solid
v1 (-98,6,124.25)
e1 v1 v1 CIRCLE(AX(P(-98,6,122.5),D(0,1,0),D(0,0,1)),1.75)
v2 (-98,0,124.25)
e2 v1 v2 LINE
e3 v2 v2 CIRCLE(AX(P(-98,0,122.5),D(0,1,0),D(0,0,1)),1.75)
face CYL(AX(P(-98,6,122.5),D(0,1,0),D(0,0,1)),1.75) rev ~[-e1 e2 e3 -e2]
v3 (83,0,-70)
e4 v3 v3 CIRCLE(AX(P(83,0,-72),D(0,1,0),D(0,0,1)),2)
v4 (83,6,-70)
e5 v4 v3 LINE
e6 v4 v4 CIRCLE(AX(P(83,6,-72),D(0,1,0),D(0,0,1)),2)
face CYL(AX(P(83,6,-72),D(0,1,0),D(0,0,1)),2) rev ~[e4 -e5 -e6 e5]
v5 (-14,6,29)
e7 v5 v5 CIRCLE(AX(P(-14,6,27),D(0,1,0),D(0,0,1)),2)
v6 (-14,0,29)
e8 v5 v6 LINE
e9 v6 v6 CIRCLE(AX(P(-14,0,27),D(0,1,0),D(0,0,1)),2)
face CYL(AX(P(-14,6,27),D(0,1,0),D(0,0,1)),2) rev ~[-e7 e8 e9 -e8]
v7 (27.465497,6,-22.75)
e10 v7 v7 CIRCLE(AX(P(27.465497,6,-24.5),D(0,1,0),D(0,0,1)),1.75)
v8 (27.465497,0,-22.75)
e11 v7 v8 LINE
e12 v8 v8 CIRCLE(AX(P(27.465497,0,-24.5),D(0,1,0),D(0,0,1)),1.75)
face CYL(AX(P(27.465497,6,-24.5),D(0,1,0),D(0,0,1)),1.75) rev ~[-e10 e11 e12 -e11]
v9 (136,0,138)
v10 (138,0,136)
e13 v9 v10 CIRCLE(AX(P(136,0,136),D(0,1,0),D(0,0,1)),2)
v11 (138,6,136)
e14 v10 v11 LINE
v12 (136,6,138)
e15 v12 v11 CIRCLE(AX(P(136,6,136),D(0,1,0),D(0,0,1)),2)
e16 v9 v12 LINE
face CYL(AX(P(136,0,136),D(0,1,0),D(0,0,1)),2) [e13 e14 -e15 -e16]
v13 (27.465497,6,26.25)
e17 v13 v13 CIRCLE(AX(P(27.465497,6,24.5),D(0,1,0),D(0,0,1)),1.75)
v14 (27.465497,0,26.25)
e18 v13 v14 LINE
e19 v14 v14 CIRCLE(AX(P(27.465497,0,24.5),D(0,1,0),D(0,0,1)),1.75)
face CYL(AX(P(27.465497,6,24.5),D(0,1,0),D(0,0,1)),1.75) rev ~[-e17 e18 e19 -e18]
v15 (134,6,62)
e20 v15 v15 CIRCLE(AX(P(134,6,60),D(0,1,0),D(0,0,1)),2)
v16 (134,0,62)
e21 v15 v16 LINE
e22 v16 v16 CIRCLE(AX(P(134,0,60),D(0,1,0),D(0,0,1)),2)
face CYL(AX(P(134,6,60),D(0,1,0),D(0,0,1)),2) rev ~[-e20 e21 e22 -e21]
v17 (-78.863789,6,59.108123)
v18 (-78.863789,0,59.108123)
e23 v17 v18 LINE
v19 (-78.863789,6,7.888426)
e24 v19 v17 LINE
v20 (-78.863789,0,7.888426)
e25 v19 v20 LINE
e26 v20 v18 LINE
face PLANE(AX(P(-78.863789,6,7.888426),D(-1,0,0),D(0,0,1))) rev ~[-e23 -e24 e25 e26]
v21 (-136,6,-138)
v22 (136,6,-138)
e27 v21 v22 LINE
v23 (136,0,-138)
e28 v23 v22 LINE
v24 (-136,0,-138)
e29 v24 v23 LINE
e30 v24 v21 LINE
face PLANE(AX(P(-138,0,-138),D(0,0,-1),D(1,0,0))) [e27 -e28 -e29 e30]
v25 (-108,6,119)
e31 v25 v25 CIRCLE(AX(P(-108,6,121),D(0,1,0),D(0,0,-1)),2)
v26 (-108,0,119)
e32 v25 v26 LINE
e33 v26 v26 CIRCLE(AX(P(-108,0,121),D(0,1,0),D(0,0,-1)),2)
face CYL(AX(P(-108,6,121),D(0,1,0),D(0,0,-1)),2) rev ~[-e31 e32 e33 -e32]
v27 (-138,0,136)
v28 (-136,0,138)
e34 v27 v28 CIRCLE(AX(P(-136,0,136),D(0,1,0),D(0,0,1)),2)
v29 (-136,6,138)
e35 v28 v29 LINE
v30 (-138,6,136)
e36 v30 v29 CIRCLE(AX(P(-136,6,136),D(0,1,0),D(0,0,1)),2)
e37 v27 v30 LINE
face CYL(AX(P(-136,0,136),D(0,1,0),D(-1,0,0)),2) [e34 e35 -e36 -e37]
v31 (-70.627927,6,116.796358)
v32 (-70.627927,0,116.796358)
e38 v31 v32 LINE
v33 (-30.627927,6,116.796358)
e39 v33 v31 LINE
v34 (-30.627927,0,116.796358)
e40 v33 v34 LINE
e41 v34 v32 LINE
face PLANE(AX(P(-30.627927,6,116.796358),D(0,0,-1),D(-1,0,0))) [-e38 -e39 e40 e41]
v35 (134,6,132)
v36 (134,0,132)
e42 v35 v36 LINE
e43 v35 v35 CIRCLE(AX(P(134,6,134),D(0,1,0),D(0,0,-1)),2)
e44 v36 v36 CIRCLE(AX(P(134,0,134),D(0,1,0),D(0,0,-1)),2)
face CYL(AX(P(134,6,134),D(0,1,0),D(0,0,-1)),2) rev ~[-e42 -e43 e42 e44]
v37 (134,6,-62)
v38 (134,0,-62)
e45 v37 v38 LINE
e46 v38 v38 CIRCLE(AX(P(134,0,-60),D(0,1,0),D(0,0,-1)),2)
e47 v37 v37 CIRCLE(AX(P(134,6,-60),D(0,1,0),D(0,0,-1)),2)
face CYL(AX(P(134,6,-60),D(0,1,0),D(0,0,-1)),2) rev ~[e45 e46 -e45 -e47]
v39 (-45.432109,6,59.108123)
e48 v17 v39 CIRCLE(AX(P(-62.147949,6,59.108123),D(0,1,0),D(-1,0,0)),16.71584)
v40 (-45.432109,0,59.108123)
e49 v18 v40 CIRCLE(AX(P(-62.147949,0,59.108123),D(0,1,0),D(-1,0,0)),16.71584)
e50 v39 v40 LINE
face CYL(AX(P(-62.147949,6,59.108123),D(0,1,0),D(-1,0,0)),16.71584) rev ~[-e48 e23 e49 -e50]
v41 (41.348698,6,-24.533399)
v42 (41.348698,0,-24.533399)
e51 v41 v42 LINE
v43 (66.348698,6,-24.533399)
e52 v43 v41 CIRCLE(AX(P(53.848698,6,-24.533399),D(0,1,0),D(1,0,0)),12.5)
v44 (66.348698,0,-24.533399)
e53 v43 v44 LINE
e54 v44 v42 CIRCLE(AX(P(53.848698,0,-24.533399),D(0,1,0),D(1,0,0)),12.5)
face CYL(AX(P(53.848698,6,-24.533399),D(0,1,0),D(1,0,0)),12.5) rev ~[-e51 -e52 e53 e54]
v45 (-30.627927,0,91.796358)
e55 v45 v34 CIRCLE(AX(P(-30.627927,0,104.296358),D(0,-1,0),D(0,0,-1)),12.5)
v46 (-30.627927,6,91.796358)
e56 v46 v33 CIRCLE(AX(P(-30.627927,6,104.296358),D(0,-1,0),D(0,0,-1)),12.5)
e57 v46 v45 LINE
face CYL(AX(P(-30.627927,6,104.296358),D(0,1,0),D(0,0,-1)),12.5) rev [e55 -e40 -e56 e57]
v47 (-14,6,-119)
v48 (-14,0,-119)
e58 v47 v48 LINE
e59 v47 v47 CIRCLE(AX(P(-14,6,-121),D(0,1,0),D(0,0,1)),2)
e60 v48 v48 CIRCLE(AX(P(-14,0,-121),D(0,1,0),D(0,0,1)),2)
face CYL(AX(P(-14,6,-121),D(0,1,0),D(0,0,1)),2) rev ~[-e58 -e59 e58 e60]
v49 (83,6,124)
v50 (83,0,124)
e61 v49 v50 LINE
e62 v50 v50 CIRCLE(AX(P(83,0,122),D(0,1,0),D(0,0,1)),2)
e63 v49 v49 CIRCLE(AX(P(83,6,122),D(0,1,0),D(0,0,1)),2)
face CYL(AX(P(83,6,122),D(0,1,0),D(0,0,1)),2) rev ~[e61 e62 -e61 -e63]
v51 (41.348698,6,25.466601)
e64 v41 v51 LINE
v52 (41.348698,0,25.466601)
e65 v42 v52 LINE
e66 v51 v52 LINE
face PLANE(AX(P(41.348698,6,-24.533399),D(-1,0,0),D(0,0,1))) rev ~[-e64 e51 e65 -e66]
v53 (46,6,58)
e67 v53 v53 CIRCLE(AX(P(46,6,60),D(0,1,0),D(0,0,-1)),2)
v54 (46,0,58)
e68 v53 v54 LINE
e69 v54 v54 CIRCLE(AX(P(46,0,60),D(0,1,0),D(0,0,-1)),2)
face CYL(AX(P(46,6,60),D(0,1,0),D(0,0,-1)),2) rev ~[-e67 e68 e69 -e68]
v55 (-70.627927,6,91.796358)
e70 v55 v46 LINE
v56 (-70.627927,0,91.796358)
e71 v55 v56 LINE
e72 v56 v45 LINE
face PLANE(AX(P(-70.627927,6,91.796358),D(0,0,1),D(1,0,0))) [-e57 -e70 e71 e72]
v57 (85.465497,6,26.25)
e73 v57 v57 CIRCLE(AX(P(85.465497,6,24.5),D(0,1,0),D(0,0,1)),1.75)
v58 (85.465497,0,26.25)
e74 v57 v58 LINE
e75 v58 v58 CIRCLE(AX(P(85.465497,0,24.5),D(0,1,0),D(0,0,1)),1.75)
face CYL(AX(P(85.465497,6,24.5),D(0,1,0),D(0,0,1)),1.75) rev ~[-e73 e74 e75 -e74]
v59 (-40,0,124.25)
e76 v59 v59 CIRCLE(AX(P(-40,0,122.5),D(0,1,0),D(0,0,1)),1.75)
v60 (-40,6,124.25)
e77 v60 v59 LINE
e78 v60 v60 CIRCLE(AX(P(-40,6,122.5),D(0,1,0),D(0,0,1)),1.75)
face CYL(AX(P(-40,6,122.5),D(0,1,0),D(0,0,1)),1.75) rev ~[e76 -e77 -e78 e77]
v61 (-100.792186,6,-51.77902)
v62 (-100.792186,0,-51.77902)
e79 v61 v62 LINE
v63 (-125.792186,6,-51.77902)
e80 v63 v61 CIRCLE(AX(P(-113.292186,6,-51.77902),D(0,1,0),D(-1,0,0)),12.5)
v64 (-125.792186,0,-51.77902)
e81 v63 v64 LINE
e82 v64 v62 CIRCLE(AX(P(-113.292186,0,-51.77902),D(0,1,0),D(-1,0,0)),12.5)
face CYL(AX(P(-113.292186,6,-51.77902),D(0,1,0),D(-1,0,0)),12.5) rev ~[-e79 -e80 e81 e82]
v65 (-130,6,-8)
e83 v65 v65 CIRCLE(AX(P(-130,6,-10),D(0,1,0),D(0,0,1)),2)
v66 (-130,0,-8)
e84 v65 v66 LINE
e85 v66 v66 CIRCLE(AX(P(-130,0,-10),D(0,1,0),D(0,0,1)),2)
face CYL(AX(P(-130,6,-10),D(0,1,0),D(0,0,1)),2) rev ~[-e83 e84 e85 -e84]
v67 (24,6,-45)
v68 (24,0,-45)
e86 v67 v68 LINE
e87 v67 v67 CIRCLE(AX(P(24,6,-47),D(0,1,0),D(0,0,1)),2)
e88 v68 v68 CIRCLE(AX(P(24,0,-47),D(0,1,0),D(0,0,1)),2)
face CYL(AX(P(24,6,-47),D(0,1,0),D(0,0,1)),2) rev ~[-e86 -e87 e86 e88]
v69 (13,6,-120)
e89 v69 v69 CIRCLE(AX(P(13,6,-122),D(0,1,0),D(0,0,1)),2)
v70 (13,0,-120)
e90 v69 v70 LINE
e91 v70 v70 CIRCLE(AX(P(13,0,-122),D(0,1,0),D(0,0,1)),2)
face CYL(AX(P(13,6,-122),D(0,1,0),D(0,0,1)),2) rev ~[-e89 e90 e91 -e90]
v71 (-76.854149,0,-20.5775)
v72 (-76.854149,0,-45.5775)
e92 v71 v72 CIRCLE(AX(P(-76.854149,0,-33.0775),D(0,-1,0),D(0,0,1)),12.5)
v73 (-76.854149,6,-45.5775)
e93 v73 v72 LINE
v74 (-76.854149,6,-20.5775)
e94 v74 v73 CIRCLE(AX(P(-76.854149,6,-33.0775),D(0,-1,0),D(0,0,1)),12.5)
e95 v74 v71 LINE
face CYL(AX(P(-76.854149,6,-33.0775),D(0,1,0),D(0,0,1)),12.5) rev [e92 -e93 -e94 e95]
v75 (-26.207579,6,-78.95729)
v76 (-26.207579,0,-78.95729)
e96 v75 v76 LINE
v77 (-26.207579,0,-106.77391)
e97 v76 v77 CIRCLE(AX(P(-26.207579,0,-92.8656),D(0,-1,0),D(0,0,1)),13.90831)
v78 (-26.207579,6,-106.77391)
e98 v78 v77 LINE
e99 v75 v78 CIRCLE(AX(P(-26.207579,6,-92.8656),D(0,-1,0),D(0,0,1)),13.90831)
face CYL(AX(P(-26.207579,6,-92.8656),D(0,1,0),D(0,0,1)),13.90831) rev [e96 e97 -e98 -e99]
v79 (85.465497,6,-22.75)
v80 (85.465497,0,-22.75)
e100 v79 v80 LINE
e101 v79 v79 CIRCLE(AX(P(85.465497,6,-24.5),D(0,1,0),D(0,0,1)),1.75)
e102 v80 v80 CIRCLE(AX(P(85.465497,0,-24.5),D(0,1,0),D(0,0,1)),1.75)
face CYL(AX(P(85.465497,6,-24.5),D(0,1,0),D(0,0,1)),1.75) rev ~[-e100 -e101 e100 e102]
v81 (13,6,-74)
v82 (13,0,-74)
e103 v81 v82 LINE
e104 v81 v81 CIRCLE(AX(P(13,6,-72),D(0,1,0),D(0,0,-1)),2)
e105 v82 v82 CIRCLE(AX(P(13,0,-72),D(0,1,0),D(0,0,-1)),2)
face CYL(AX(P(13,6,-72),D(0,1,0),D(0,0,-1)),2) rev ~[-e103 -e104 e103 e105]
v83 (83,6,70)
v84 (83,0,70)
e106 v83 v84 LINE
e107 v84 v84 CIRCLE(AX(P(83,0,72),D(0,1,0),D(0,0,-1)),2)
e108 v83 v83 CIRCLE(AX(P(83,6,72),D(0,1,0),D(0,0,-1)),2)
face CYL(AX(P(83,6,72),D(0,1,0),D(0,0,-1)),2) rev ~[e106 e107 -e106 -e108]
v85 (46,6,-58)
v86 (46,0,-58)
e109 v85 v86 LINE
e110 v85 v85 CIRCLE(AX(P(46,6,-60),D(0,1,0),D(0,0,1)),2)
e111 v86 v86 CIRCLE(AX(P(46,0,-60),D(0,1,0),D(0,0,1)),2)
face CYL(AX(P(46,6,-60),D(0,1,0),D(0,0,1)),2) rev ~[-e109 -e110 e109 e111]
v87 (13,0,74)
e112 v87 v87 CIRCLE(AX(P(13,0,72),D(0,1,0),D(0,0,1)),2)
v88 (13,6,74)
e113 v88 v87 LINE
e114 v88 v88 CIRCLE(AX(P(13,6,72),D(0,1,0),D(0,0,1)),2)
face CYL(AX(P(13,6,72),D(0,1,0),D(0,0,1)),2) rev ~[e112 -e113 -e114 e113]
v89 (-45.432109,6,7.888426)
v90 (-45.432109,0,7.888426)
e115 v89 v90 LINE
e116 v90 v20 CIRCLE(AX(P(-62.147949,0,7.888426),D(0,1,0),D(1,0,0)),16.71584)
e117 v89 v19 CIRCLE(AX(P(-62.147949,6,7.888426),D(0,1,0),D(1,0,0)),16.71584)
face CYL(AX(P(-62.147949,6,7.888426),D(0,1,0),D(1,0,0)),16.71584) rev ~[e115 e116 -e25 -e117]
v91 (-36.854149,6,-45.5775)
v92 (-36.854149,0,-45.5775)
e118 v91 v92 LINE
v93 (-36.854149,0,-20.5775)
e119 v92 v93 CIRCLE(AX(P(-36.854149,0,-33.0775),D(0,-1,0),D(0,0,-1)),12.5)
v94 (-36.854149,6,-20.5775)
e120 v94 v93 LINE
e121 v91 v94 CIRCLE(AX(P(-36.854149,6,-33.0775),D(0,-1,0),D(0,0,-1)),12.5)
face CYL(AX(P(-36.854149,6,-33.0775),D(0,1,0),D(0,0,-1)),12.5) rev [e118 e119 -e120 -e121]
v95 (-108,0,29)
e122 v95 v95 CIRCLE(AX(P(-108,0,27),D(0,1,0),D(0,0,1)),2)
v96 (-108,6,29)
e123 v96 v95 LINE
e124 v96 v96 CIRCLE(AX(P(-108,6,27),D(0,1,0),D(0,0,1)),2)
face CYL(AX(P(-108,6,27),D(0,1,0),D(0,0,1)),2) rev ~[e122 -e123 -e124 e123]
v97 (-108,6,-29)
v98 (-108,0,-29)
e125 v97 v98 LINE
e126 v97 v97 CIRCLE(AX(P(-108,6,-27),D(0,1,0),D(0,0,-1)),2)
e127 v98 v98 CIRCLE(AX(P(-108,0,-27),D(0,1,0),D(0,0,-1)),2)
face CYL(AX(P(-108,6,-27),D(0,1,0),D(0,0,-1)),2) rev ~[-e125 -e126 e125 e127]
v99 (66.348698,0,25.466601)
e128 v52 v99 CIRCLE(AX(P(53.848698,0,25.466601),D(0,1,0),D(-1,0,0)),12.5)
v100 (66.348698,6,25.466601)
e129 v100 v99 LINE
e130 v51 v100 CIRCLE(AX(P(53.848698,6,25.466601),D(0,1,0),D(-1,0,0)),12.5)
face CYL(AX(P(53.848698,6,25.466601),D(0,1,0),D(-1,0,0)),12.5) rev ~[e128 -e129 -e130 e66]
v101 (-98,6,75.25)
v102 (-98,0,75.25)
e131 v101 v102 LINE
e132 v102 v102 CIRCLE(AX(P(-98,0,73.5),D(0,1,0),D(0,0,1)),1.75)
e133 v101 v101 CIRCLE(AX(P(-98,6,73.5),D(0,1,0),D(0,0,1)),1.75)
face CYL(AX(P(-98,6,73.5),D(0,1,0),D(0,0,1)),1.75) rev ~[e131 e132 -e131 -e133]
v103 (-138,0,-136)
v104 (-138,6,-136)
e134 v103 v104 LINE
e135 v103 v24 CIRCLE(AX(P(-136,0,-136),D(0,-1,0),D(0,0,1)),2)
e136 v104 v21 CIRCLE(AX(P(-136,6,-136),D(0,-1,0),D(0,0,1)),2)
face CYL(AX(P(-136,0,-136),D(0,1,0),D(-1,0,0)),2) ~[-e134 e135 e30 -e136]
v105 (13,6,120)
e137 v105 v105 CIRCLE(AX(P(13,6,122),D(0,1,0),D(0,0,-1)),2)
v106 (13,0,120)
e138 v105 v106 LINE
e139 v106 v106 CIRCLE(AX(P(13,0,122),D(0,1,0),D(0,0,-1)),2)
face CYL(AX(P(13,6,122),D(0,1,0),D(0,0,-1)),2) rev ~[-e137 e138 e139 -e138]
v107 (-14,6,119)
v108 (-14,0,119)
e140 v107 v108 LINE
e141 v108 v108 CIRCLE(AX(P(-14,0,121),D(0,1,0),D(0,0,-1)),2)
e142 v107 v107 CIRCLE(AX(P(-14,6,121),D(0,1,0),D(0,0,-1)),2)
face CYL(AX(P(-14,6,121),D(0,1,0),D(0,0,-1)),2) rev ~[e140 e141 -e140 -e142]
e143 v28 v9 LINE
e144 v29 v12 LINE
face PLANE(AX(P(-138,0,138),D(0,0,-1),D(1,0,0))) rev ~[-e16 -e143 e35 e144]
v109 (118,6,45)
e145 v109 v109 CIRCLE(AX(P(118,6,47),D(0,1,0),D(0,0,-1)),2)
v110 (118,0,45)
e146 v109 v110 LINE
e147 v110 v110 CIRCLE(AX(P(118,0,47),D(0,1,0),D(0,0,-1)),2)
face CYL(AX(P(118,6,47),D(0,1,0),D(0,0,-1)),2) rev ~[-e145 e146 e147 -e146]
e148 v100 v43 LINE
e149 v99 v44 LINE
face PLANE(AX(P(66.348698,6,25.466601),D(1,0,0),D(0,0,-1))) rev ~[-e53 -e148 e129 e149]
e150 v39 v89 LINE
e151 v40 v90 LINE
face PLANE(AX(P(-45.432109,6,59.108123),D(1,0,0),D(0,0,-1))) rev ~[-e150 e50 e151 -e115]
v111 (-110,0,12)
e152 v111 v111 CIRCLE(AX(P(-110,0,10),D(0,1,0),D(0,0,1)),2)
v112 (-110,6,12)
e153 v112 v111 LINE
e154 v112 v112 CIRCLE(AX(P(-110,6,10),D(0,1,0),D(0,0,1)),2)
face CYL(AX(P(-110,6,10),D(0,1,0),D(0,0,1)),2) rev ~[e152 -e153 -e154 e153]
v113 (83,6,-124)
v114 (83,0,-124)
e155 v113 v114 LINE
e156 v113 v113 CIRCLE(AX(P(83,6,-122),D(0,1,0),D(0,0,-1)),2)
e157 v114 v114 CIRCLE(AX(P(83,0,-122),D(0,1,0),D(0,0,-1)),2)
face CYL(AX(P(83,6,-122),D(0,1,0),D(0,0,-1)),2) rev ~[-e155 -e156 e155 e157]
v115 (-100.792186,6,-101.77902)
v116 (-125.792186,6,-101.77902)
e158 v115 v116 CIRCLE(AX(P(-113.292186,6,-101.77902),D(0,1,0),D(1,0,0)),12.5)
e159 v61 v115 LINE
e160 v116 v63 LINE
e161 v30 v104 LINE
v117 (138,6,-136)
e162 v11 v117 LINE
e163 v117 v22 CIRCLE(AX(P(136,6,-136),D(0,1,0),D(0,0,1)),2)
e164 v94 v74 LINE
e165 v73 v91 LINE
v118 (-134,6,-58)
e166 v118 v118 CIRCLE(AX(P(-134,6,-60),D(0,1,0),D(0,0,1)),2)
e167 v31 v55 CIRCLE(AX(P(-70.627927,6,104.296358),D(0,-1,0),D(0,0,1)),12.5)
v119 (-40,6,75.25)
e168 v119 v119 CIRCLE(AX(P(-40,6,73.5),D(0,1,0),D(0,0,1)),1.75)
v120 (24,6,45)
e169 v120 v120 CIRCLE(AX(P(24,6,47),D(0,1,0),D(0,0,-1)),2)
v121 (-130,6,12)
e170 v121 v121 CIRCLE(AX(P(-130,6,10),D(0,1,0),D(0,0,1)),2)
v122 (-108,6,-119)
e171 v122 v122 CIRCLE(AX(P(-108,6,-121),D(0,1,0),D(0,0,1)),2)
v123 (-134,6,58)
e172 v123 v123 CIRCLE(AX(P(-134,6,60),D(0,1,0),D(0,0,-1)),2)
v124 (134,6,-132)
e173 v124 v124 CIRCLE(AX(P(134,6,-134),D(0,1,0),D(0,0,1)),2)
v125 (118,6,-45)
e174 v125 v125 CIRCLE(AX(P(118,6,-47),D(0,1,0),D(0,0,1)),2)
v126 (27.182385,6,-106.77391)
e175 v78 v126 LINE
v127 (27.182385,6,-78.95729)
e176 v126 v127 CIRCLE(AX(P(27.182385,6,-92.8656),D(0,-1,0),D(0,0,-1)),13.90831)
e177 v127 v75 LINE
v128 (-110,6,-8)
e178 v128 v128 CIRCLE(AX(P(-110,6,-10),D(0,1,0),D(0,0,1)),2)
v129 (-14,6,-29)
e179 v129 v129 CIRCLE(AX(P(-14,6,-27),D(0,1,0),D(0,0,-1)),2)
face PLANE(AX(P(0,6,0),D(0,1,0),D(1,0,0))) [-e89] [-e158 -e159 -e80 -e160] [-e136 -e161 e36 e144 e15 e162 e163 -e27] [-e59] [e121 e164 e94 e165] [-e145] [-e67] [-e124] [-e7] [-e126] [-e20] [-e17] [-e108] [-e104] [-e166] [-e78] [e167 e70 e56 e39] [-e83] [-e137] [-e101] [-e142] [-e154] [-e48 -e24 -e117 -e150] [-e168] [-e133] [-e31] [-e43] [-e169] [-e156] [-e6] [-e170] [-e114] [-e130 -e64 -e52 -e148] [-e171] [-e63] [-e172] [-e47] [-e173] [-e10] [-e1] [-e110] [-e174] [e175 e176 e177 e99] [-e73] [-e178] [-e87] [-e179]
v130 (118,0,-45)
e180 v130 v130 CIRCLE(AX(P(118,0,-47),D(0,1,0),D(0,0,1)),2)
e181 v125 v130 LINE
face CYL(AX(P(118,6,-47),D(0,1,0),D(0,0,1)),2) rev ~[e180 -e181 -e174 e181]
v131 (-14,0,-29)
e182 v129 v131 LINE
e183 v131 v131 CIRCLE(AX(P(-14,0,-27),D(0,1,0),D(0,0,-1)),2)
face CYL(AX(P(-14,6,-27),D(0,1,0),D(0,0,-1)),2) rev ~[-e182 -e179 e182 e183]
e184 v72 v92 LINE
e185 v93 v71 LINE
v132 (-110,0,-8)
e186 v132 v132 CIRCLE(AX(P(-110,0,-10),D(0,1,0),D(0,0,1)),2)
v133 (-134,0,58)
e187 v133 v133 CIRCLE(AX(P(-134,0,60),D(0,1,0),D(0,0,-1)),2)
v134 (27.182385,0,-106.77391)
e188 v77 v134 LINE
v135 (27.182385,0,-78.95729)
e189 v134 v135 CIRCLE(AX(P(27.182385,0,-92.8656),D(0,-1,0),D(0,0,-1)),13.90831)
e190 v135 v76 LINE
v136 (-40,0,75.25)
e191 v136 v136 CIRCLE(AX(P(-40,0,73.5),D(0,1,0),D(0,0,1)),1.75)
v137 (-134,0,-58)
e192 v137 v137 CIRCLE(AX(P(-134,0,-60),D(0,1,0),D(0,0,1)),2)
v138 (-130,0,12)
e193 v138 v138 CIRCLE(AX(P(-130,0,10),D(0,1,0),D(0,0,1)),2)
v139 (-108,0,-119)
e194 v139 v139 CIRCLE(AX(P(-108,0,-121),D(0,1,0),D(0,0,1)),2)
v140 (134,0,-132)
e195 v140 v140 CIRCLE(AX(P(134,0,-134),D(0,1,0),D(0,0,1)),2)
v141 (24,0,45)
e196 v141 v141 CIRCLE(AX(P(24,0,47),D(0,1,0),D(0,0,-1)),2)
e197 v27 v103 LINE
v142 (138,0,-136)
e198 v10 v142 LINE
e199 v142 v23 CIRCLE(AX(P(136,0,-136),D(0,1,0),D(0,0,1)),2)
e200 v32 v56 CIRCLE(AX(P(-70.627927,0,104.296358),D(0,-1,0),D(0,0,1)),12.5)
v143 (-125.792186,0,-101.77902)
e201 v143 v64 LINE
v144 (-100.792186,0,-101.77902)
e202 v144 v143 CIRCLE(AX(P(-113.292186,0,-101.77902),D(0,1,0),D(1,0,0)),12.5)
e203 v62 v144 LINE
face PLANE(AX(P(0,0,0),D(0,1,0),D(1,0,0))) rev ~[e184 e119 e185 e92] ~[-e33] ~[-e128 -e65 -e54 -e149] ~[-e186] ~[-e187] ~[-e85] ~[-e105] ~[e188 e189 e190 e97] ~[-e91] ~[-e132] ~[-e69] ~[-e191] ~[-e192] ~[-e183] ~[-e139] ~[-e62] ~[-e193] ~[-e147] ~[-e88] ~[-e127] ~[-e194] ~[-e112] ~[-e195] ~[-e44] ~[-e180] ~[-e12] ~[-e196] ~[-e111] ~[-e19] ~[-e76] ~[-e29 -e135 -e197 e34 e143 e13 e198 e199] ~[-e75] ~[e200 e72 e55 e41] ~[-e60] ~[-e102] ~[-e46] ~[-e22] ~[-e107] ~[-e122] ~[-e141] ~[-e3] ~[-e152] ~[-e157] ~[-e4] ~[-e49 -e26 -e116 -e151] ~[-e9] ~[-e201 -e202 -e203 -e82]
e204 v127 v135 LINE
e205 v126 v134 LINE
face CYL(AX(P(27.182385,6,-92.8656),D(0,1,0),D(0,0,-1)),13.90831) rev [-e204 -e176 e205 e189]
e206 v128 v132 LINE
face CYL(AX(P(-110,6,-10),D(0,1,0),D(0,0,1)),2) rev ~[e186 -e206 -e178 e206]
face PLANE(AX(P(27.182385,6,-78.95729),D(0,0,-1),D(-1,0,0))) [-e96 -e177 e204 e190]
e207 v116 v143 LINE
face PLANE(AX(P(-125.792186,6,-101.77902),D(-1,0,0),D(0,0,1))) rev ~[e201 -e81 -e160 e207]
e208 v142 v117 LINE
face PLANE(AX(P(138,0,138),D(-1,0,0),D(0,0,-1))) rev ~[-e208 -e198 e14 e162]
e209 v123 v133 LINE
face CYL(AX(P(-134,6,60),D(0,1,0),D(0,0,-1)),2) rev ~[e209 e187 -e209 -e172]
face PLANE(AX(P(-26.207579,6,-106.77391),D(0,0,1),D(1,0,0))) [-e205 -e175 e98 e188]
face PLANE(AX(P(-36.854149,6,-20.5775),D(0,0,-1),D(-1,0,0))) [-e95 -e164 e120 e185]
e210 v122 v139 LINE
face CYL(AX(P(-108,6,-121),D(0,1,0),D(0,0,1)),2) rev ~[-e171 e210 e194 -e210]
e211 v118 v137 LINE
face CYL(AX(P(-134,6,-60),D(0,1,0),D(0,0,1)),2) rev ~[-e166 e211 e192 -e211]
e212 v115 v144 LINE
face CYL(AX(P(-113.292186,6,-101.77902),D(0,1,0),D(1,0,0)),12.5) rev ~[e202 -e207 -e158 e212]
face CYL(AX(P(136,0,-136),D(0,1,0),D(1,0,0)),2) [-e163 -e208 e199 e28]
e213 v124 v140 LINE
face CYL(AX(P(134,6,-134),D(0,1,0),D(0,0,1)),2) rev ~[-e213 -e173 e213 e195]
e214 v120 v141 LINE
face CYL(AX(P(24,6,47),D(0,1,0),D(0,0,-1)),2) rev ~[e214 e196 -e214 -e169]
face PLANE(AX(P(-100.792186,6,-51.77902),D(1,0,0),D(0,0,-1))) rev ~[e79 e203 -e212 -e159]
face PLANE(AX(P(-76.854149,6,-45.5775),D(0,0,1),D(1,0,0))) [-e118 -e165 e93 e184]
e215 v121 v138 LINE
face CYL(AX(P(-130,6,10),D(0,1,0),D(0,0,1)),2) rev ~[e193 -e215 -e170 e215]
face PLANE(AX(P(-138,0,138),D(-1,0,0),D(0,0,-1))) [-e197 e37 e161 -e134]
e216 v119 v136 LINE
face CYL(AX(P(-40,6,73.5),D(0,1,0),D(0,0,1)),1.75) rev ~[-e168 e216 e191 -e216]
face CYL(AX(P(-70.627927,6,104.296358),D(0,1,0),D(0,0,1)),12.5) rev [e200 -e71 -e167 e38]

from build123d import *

# Parameters (mm, degrees)
SKETCH_1_W              = 276
SKETCH_1_H              = 276
EXTRUDE_1_DEPTH         = 6
FILLET_1_R              = 2
SKETCH_2_R              = 2
CUT_EXTRUDE_1_DEPTH     = 6
SKETCH_10_R             = 2
CUT_EXTRUDE_1980_DEPTH  = 7
SKETCH_4_R              = 2
CUT_EXTRUDE_94_94_DEPTH = 6
SKETCH_8_R              = 1.75
RPI4_DEPTH              = 6
CUT_EXTRUDE_5_DEPTH     = 6


with BuildPart() as part:
    # Эскиз1 → Бобышка-Вытянуть1 (new body)
    with BuildSketch(Plane(origin=(0, 0, 0), x_dir=(1, 0, 0), z_dir=(0, 1, 0))):
        Rectangle(SKETCH_1_W, SKETCH_1_H)
    extrude(amount=EXTRUDE_1_DEPTH)

    # Скругление1
    fillet_1_edges = [part.edges().sort_by_distance(p)[0] for p in [
        (138, 3, 138),
        (-138, 3, 138),
        (-138, 3, -138),
        (138, 3, -138),
    ]]
    fillet(fillet_1_edges, radius=FILLET_1_R)

    # Эскиз2 → Вырез-Вытянуть1 (cut)
    with BuildSketch(Plane(origin=(0, 6, 0), x_dir=(1, 0, 0), z_dir=(0, 1, 0))):
        with Locations((-134, 60)):
            Circle(SKETCH_2_R)
        with Locations((134, 60)):
            Circle(SKETCH_2_R)
        with Locations((134, -60)):
            Circle(SKETCH_2_R)
        with Locations((-134, -60)):
            Circle(SKETCH_2_R)
        with Locations((46, 60)):
            Circle(SKETCH_2_R)
        with Locations((46, -60)):
            Circle(SKETCH_2_R)
        with Locations((134, 134)):
            Circle(SKETCH_2_R)
        with Locations((134, -134)):
            Circle(SKETCH_2_R)
    extrude(amount=-CUT_EXTRUDE_1_DEPTH, mode=Mode.SUBTRACT)

    # Эскиз10 → Cut-Extrude 1980 (cut)
    with BuildSketch(Plane(origin=(0, 6, 0), x_dir=(1, 0, 0), z_dir=(0, 1, 0))):
        with Locations((13, 122)):
            Circle(SKETCH_10_R)
        with Locations((83, 122)):
            Circle(SKETCH_10_R)
        with Locations((13, 72)):
            Circle(SKETCH_10_R)
        with Locations((83, 72)):
            Circle(SKETCH_10_R)
        with Locations((-130, 10)):
            Circle(SKETCH_10_R)
        with Locations((-110, 10)):
            Circle(SKETCH_10_R)
        with Locations((-110, -10)):
            Circle(SKETCH_10_R)
        with Locations((-130, -10)):
            Circle(SKETCH_10_R)
        with Locations((83, -72)):
            Circle(SKETCH_10_R)
        with Locations((13, -72)):
            Circle(SKETCH_10_R)
        with Locations((83, -122)):
            Circle(SKETCH_10_R)
        with Locations((13, -122)):
            Circle(SKETCH_10_R)
    extrude(amount=-CUT_EXTRUDE_1980_DEPTH, mode=Mode.SUBTRACT)

    # Эскиз4 → 94х94 (cut)
    with BuildSketch(Plane(origin=(0, 6, 0), x_dir=(1, 0, 0), z_dir=(0, 1, 0))):
        with Locations((-108, 121)):
            Circle(SKETCH_4_R)
        with Locations((-14, 121)):
            Circle(SKETCH_4_R)
        with Locations((-14, 27)):
            Circle(SKETCH_4_R)
        with Locations((-108, 27)):
            Circle(SKETCH_4_R)
        with Locations((-108, -27)):
            Circle(SKETCH_4_R)
        with Locations((-14, -27)):
            Circle(SKETCH_4_R)
        with Locations((-14, -121)):
            Circle(SKETCH_4_R)
        with Locations((-108, -121)):
            Circle(SKETCH_4_R)
        with Locations((24, 47)):
            Circle(SKETCH_4_R)
        with Locations((118, 47)):
            Circle(SKETCH_4_R)
        with Locations((118, -47)):
            Circle(SKETCH_4_R)
        with Locations((24, -47)):
            Circle(SKETCH_4_R)
    extrude(amount=-CUT_EXTRUDE_94_94_DEPTH, mode=Mode.SUBTRACT)

    # Эскиз8 → RPi4 (cut)
    with BuildSketch(Plane(origin=(0, 6, 0), x_dir=(1, 0, 0), z_dir=(0, 1, 0))):
        with Locations((85.46549702, 24.5)):
            Circle(SKETCH_8_R)
        with Locations((27.46549702, 24.5)):
            Circle(SKETCH_8_R)
        with Locations((27.46549702, -24.5)):
            Circle(SKETCH_8_R)
        with Locations((85.46549702, -24.5)):
            Circle(SKETCH_8_R)
        with Locations((-40, -73.5)):
            Circle(SKETCH_8_R)
        with Locations((-98, -73.5)):
            Circle(SKETCH_8_R)
        with Locations((-98, -122.5)):
            Circle(SKETCH_8_R)
        with Locations((-40, -122.5)):
            Circle(SKETCH_8_R)
    extrude(amount=-RPI4_DEPTH, mode=Mode.SUBTRACT)

    # Эскиз6 → Вырез-Вытянуть5 (cut)
    with BuildSketch(Plane(origin=(0, 6, 0), x_dir=(1, 0, 0), z_dir=(0, 1, 0))):
        with BuildLine():
            Line((-30.62792666, -91.796358409), (-70.62792666, -91.796358409))
            ThreePointArc((-70.62792666, -91.796358409), (-83.12792666, -104.296358409), (-70.62792666, -116.796358409))
            Line((-70.62792666, -116.796358409), (-30.62792666, -116.796358409))
            ThreePointArc((-30.62792666, -116.796358409), (-18.12792666, -104.296358409), (-30.62792666, -91.796358409))
        make_face()
        with BuildLine():
            Line((-36.854148501, 45.577500198), (-76.854148501, 45.577500198))
            ThreePointArc((-76.854148501, 45.577500198), (-89.354148501, 33.077500198), (-76.854148501, 20.577500198))
            Line((-76.854148501, 20.577500198), (-36.854148501, 20.577500198))
            ThreePointArc((-36.854148501, 20.577500198), (-24.354148501, 33.077500198), (-36.854148501, 45.577500198))
        make_face()
        with BuildLine():
            ThreePointArc((-100.792186218, 101.779020019), (-113.292186218, 114.279020019), (-125.792186218, 101.779020019))
            Line((-125.792186218, 101.779020019), (-125.792186218, 51.779020019))
            ThreePointArc((-125.792186218, 51.779020019), (-113.292186218, 39.279020019), (-100.792186218, 51.779020019))
            Line((-100.792186218, 51.779020019), (-100.792186218, 101.779020019))
        make_face()
        with BuildLine():
            Line((27.18238493, 106.773909834), (-26.207579038, 106.773909834))
            ThreePointArc((-26.207579038, 106.773909834), (-40.115888979, 92.865599892), (-26.207579038, 78.957289951))
            Line((-26.207579038, 78.957289951), (27.18238493, 78.957289951))
            ThreePointArc((27.18238493, 78.957289951), (41.090694872, 92.865599892), (27.18238493, 106.773909834))
        make_face()
        with BuildLine():
            ThreePointArc((-45.432108508, -7.888425697), (-62.147948764, 8.827414559), (-78.86378902, -7.888425697))
            Line((-78.86378902, -7.888425697), (-78.86378902, -59.108123383))
            ThreePointArc((-78.86378902, -59.108123383), (-62.147948764, -75.823963639), (-45.432108508, -59.108123383))
            Line((-45.432108508, -59.108123383), (-45.432108508, -7.888425697))
        make_face()
        with BuildLine():
            ThreePointArc((66.348697743, 24.533398762), (53.848697743, 37.033398762), (41.348697743, 24.533398762))
            Line((41.348697743, 24.533398762), (41.348697743, -25.466601238))
            ThreePointArc((41.348697743, -25.466601238), (53.848697743, -37.966601238), (66.348697743, -25.466601238))
            Line((66.348697743, -25.466601238), (66.348697743, 24.533398762))
        make_face()
    extrude(amount=-CUT_EXTRUDE_5_DEPTH, mode=Mode.SUBTRACT)


solid = part.part
